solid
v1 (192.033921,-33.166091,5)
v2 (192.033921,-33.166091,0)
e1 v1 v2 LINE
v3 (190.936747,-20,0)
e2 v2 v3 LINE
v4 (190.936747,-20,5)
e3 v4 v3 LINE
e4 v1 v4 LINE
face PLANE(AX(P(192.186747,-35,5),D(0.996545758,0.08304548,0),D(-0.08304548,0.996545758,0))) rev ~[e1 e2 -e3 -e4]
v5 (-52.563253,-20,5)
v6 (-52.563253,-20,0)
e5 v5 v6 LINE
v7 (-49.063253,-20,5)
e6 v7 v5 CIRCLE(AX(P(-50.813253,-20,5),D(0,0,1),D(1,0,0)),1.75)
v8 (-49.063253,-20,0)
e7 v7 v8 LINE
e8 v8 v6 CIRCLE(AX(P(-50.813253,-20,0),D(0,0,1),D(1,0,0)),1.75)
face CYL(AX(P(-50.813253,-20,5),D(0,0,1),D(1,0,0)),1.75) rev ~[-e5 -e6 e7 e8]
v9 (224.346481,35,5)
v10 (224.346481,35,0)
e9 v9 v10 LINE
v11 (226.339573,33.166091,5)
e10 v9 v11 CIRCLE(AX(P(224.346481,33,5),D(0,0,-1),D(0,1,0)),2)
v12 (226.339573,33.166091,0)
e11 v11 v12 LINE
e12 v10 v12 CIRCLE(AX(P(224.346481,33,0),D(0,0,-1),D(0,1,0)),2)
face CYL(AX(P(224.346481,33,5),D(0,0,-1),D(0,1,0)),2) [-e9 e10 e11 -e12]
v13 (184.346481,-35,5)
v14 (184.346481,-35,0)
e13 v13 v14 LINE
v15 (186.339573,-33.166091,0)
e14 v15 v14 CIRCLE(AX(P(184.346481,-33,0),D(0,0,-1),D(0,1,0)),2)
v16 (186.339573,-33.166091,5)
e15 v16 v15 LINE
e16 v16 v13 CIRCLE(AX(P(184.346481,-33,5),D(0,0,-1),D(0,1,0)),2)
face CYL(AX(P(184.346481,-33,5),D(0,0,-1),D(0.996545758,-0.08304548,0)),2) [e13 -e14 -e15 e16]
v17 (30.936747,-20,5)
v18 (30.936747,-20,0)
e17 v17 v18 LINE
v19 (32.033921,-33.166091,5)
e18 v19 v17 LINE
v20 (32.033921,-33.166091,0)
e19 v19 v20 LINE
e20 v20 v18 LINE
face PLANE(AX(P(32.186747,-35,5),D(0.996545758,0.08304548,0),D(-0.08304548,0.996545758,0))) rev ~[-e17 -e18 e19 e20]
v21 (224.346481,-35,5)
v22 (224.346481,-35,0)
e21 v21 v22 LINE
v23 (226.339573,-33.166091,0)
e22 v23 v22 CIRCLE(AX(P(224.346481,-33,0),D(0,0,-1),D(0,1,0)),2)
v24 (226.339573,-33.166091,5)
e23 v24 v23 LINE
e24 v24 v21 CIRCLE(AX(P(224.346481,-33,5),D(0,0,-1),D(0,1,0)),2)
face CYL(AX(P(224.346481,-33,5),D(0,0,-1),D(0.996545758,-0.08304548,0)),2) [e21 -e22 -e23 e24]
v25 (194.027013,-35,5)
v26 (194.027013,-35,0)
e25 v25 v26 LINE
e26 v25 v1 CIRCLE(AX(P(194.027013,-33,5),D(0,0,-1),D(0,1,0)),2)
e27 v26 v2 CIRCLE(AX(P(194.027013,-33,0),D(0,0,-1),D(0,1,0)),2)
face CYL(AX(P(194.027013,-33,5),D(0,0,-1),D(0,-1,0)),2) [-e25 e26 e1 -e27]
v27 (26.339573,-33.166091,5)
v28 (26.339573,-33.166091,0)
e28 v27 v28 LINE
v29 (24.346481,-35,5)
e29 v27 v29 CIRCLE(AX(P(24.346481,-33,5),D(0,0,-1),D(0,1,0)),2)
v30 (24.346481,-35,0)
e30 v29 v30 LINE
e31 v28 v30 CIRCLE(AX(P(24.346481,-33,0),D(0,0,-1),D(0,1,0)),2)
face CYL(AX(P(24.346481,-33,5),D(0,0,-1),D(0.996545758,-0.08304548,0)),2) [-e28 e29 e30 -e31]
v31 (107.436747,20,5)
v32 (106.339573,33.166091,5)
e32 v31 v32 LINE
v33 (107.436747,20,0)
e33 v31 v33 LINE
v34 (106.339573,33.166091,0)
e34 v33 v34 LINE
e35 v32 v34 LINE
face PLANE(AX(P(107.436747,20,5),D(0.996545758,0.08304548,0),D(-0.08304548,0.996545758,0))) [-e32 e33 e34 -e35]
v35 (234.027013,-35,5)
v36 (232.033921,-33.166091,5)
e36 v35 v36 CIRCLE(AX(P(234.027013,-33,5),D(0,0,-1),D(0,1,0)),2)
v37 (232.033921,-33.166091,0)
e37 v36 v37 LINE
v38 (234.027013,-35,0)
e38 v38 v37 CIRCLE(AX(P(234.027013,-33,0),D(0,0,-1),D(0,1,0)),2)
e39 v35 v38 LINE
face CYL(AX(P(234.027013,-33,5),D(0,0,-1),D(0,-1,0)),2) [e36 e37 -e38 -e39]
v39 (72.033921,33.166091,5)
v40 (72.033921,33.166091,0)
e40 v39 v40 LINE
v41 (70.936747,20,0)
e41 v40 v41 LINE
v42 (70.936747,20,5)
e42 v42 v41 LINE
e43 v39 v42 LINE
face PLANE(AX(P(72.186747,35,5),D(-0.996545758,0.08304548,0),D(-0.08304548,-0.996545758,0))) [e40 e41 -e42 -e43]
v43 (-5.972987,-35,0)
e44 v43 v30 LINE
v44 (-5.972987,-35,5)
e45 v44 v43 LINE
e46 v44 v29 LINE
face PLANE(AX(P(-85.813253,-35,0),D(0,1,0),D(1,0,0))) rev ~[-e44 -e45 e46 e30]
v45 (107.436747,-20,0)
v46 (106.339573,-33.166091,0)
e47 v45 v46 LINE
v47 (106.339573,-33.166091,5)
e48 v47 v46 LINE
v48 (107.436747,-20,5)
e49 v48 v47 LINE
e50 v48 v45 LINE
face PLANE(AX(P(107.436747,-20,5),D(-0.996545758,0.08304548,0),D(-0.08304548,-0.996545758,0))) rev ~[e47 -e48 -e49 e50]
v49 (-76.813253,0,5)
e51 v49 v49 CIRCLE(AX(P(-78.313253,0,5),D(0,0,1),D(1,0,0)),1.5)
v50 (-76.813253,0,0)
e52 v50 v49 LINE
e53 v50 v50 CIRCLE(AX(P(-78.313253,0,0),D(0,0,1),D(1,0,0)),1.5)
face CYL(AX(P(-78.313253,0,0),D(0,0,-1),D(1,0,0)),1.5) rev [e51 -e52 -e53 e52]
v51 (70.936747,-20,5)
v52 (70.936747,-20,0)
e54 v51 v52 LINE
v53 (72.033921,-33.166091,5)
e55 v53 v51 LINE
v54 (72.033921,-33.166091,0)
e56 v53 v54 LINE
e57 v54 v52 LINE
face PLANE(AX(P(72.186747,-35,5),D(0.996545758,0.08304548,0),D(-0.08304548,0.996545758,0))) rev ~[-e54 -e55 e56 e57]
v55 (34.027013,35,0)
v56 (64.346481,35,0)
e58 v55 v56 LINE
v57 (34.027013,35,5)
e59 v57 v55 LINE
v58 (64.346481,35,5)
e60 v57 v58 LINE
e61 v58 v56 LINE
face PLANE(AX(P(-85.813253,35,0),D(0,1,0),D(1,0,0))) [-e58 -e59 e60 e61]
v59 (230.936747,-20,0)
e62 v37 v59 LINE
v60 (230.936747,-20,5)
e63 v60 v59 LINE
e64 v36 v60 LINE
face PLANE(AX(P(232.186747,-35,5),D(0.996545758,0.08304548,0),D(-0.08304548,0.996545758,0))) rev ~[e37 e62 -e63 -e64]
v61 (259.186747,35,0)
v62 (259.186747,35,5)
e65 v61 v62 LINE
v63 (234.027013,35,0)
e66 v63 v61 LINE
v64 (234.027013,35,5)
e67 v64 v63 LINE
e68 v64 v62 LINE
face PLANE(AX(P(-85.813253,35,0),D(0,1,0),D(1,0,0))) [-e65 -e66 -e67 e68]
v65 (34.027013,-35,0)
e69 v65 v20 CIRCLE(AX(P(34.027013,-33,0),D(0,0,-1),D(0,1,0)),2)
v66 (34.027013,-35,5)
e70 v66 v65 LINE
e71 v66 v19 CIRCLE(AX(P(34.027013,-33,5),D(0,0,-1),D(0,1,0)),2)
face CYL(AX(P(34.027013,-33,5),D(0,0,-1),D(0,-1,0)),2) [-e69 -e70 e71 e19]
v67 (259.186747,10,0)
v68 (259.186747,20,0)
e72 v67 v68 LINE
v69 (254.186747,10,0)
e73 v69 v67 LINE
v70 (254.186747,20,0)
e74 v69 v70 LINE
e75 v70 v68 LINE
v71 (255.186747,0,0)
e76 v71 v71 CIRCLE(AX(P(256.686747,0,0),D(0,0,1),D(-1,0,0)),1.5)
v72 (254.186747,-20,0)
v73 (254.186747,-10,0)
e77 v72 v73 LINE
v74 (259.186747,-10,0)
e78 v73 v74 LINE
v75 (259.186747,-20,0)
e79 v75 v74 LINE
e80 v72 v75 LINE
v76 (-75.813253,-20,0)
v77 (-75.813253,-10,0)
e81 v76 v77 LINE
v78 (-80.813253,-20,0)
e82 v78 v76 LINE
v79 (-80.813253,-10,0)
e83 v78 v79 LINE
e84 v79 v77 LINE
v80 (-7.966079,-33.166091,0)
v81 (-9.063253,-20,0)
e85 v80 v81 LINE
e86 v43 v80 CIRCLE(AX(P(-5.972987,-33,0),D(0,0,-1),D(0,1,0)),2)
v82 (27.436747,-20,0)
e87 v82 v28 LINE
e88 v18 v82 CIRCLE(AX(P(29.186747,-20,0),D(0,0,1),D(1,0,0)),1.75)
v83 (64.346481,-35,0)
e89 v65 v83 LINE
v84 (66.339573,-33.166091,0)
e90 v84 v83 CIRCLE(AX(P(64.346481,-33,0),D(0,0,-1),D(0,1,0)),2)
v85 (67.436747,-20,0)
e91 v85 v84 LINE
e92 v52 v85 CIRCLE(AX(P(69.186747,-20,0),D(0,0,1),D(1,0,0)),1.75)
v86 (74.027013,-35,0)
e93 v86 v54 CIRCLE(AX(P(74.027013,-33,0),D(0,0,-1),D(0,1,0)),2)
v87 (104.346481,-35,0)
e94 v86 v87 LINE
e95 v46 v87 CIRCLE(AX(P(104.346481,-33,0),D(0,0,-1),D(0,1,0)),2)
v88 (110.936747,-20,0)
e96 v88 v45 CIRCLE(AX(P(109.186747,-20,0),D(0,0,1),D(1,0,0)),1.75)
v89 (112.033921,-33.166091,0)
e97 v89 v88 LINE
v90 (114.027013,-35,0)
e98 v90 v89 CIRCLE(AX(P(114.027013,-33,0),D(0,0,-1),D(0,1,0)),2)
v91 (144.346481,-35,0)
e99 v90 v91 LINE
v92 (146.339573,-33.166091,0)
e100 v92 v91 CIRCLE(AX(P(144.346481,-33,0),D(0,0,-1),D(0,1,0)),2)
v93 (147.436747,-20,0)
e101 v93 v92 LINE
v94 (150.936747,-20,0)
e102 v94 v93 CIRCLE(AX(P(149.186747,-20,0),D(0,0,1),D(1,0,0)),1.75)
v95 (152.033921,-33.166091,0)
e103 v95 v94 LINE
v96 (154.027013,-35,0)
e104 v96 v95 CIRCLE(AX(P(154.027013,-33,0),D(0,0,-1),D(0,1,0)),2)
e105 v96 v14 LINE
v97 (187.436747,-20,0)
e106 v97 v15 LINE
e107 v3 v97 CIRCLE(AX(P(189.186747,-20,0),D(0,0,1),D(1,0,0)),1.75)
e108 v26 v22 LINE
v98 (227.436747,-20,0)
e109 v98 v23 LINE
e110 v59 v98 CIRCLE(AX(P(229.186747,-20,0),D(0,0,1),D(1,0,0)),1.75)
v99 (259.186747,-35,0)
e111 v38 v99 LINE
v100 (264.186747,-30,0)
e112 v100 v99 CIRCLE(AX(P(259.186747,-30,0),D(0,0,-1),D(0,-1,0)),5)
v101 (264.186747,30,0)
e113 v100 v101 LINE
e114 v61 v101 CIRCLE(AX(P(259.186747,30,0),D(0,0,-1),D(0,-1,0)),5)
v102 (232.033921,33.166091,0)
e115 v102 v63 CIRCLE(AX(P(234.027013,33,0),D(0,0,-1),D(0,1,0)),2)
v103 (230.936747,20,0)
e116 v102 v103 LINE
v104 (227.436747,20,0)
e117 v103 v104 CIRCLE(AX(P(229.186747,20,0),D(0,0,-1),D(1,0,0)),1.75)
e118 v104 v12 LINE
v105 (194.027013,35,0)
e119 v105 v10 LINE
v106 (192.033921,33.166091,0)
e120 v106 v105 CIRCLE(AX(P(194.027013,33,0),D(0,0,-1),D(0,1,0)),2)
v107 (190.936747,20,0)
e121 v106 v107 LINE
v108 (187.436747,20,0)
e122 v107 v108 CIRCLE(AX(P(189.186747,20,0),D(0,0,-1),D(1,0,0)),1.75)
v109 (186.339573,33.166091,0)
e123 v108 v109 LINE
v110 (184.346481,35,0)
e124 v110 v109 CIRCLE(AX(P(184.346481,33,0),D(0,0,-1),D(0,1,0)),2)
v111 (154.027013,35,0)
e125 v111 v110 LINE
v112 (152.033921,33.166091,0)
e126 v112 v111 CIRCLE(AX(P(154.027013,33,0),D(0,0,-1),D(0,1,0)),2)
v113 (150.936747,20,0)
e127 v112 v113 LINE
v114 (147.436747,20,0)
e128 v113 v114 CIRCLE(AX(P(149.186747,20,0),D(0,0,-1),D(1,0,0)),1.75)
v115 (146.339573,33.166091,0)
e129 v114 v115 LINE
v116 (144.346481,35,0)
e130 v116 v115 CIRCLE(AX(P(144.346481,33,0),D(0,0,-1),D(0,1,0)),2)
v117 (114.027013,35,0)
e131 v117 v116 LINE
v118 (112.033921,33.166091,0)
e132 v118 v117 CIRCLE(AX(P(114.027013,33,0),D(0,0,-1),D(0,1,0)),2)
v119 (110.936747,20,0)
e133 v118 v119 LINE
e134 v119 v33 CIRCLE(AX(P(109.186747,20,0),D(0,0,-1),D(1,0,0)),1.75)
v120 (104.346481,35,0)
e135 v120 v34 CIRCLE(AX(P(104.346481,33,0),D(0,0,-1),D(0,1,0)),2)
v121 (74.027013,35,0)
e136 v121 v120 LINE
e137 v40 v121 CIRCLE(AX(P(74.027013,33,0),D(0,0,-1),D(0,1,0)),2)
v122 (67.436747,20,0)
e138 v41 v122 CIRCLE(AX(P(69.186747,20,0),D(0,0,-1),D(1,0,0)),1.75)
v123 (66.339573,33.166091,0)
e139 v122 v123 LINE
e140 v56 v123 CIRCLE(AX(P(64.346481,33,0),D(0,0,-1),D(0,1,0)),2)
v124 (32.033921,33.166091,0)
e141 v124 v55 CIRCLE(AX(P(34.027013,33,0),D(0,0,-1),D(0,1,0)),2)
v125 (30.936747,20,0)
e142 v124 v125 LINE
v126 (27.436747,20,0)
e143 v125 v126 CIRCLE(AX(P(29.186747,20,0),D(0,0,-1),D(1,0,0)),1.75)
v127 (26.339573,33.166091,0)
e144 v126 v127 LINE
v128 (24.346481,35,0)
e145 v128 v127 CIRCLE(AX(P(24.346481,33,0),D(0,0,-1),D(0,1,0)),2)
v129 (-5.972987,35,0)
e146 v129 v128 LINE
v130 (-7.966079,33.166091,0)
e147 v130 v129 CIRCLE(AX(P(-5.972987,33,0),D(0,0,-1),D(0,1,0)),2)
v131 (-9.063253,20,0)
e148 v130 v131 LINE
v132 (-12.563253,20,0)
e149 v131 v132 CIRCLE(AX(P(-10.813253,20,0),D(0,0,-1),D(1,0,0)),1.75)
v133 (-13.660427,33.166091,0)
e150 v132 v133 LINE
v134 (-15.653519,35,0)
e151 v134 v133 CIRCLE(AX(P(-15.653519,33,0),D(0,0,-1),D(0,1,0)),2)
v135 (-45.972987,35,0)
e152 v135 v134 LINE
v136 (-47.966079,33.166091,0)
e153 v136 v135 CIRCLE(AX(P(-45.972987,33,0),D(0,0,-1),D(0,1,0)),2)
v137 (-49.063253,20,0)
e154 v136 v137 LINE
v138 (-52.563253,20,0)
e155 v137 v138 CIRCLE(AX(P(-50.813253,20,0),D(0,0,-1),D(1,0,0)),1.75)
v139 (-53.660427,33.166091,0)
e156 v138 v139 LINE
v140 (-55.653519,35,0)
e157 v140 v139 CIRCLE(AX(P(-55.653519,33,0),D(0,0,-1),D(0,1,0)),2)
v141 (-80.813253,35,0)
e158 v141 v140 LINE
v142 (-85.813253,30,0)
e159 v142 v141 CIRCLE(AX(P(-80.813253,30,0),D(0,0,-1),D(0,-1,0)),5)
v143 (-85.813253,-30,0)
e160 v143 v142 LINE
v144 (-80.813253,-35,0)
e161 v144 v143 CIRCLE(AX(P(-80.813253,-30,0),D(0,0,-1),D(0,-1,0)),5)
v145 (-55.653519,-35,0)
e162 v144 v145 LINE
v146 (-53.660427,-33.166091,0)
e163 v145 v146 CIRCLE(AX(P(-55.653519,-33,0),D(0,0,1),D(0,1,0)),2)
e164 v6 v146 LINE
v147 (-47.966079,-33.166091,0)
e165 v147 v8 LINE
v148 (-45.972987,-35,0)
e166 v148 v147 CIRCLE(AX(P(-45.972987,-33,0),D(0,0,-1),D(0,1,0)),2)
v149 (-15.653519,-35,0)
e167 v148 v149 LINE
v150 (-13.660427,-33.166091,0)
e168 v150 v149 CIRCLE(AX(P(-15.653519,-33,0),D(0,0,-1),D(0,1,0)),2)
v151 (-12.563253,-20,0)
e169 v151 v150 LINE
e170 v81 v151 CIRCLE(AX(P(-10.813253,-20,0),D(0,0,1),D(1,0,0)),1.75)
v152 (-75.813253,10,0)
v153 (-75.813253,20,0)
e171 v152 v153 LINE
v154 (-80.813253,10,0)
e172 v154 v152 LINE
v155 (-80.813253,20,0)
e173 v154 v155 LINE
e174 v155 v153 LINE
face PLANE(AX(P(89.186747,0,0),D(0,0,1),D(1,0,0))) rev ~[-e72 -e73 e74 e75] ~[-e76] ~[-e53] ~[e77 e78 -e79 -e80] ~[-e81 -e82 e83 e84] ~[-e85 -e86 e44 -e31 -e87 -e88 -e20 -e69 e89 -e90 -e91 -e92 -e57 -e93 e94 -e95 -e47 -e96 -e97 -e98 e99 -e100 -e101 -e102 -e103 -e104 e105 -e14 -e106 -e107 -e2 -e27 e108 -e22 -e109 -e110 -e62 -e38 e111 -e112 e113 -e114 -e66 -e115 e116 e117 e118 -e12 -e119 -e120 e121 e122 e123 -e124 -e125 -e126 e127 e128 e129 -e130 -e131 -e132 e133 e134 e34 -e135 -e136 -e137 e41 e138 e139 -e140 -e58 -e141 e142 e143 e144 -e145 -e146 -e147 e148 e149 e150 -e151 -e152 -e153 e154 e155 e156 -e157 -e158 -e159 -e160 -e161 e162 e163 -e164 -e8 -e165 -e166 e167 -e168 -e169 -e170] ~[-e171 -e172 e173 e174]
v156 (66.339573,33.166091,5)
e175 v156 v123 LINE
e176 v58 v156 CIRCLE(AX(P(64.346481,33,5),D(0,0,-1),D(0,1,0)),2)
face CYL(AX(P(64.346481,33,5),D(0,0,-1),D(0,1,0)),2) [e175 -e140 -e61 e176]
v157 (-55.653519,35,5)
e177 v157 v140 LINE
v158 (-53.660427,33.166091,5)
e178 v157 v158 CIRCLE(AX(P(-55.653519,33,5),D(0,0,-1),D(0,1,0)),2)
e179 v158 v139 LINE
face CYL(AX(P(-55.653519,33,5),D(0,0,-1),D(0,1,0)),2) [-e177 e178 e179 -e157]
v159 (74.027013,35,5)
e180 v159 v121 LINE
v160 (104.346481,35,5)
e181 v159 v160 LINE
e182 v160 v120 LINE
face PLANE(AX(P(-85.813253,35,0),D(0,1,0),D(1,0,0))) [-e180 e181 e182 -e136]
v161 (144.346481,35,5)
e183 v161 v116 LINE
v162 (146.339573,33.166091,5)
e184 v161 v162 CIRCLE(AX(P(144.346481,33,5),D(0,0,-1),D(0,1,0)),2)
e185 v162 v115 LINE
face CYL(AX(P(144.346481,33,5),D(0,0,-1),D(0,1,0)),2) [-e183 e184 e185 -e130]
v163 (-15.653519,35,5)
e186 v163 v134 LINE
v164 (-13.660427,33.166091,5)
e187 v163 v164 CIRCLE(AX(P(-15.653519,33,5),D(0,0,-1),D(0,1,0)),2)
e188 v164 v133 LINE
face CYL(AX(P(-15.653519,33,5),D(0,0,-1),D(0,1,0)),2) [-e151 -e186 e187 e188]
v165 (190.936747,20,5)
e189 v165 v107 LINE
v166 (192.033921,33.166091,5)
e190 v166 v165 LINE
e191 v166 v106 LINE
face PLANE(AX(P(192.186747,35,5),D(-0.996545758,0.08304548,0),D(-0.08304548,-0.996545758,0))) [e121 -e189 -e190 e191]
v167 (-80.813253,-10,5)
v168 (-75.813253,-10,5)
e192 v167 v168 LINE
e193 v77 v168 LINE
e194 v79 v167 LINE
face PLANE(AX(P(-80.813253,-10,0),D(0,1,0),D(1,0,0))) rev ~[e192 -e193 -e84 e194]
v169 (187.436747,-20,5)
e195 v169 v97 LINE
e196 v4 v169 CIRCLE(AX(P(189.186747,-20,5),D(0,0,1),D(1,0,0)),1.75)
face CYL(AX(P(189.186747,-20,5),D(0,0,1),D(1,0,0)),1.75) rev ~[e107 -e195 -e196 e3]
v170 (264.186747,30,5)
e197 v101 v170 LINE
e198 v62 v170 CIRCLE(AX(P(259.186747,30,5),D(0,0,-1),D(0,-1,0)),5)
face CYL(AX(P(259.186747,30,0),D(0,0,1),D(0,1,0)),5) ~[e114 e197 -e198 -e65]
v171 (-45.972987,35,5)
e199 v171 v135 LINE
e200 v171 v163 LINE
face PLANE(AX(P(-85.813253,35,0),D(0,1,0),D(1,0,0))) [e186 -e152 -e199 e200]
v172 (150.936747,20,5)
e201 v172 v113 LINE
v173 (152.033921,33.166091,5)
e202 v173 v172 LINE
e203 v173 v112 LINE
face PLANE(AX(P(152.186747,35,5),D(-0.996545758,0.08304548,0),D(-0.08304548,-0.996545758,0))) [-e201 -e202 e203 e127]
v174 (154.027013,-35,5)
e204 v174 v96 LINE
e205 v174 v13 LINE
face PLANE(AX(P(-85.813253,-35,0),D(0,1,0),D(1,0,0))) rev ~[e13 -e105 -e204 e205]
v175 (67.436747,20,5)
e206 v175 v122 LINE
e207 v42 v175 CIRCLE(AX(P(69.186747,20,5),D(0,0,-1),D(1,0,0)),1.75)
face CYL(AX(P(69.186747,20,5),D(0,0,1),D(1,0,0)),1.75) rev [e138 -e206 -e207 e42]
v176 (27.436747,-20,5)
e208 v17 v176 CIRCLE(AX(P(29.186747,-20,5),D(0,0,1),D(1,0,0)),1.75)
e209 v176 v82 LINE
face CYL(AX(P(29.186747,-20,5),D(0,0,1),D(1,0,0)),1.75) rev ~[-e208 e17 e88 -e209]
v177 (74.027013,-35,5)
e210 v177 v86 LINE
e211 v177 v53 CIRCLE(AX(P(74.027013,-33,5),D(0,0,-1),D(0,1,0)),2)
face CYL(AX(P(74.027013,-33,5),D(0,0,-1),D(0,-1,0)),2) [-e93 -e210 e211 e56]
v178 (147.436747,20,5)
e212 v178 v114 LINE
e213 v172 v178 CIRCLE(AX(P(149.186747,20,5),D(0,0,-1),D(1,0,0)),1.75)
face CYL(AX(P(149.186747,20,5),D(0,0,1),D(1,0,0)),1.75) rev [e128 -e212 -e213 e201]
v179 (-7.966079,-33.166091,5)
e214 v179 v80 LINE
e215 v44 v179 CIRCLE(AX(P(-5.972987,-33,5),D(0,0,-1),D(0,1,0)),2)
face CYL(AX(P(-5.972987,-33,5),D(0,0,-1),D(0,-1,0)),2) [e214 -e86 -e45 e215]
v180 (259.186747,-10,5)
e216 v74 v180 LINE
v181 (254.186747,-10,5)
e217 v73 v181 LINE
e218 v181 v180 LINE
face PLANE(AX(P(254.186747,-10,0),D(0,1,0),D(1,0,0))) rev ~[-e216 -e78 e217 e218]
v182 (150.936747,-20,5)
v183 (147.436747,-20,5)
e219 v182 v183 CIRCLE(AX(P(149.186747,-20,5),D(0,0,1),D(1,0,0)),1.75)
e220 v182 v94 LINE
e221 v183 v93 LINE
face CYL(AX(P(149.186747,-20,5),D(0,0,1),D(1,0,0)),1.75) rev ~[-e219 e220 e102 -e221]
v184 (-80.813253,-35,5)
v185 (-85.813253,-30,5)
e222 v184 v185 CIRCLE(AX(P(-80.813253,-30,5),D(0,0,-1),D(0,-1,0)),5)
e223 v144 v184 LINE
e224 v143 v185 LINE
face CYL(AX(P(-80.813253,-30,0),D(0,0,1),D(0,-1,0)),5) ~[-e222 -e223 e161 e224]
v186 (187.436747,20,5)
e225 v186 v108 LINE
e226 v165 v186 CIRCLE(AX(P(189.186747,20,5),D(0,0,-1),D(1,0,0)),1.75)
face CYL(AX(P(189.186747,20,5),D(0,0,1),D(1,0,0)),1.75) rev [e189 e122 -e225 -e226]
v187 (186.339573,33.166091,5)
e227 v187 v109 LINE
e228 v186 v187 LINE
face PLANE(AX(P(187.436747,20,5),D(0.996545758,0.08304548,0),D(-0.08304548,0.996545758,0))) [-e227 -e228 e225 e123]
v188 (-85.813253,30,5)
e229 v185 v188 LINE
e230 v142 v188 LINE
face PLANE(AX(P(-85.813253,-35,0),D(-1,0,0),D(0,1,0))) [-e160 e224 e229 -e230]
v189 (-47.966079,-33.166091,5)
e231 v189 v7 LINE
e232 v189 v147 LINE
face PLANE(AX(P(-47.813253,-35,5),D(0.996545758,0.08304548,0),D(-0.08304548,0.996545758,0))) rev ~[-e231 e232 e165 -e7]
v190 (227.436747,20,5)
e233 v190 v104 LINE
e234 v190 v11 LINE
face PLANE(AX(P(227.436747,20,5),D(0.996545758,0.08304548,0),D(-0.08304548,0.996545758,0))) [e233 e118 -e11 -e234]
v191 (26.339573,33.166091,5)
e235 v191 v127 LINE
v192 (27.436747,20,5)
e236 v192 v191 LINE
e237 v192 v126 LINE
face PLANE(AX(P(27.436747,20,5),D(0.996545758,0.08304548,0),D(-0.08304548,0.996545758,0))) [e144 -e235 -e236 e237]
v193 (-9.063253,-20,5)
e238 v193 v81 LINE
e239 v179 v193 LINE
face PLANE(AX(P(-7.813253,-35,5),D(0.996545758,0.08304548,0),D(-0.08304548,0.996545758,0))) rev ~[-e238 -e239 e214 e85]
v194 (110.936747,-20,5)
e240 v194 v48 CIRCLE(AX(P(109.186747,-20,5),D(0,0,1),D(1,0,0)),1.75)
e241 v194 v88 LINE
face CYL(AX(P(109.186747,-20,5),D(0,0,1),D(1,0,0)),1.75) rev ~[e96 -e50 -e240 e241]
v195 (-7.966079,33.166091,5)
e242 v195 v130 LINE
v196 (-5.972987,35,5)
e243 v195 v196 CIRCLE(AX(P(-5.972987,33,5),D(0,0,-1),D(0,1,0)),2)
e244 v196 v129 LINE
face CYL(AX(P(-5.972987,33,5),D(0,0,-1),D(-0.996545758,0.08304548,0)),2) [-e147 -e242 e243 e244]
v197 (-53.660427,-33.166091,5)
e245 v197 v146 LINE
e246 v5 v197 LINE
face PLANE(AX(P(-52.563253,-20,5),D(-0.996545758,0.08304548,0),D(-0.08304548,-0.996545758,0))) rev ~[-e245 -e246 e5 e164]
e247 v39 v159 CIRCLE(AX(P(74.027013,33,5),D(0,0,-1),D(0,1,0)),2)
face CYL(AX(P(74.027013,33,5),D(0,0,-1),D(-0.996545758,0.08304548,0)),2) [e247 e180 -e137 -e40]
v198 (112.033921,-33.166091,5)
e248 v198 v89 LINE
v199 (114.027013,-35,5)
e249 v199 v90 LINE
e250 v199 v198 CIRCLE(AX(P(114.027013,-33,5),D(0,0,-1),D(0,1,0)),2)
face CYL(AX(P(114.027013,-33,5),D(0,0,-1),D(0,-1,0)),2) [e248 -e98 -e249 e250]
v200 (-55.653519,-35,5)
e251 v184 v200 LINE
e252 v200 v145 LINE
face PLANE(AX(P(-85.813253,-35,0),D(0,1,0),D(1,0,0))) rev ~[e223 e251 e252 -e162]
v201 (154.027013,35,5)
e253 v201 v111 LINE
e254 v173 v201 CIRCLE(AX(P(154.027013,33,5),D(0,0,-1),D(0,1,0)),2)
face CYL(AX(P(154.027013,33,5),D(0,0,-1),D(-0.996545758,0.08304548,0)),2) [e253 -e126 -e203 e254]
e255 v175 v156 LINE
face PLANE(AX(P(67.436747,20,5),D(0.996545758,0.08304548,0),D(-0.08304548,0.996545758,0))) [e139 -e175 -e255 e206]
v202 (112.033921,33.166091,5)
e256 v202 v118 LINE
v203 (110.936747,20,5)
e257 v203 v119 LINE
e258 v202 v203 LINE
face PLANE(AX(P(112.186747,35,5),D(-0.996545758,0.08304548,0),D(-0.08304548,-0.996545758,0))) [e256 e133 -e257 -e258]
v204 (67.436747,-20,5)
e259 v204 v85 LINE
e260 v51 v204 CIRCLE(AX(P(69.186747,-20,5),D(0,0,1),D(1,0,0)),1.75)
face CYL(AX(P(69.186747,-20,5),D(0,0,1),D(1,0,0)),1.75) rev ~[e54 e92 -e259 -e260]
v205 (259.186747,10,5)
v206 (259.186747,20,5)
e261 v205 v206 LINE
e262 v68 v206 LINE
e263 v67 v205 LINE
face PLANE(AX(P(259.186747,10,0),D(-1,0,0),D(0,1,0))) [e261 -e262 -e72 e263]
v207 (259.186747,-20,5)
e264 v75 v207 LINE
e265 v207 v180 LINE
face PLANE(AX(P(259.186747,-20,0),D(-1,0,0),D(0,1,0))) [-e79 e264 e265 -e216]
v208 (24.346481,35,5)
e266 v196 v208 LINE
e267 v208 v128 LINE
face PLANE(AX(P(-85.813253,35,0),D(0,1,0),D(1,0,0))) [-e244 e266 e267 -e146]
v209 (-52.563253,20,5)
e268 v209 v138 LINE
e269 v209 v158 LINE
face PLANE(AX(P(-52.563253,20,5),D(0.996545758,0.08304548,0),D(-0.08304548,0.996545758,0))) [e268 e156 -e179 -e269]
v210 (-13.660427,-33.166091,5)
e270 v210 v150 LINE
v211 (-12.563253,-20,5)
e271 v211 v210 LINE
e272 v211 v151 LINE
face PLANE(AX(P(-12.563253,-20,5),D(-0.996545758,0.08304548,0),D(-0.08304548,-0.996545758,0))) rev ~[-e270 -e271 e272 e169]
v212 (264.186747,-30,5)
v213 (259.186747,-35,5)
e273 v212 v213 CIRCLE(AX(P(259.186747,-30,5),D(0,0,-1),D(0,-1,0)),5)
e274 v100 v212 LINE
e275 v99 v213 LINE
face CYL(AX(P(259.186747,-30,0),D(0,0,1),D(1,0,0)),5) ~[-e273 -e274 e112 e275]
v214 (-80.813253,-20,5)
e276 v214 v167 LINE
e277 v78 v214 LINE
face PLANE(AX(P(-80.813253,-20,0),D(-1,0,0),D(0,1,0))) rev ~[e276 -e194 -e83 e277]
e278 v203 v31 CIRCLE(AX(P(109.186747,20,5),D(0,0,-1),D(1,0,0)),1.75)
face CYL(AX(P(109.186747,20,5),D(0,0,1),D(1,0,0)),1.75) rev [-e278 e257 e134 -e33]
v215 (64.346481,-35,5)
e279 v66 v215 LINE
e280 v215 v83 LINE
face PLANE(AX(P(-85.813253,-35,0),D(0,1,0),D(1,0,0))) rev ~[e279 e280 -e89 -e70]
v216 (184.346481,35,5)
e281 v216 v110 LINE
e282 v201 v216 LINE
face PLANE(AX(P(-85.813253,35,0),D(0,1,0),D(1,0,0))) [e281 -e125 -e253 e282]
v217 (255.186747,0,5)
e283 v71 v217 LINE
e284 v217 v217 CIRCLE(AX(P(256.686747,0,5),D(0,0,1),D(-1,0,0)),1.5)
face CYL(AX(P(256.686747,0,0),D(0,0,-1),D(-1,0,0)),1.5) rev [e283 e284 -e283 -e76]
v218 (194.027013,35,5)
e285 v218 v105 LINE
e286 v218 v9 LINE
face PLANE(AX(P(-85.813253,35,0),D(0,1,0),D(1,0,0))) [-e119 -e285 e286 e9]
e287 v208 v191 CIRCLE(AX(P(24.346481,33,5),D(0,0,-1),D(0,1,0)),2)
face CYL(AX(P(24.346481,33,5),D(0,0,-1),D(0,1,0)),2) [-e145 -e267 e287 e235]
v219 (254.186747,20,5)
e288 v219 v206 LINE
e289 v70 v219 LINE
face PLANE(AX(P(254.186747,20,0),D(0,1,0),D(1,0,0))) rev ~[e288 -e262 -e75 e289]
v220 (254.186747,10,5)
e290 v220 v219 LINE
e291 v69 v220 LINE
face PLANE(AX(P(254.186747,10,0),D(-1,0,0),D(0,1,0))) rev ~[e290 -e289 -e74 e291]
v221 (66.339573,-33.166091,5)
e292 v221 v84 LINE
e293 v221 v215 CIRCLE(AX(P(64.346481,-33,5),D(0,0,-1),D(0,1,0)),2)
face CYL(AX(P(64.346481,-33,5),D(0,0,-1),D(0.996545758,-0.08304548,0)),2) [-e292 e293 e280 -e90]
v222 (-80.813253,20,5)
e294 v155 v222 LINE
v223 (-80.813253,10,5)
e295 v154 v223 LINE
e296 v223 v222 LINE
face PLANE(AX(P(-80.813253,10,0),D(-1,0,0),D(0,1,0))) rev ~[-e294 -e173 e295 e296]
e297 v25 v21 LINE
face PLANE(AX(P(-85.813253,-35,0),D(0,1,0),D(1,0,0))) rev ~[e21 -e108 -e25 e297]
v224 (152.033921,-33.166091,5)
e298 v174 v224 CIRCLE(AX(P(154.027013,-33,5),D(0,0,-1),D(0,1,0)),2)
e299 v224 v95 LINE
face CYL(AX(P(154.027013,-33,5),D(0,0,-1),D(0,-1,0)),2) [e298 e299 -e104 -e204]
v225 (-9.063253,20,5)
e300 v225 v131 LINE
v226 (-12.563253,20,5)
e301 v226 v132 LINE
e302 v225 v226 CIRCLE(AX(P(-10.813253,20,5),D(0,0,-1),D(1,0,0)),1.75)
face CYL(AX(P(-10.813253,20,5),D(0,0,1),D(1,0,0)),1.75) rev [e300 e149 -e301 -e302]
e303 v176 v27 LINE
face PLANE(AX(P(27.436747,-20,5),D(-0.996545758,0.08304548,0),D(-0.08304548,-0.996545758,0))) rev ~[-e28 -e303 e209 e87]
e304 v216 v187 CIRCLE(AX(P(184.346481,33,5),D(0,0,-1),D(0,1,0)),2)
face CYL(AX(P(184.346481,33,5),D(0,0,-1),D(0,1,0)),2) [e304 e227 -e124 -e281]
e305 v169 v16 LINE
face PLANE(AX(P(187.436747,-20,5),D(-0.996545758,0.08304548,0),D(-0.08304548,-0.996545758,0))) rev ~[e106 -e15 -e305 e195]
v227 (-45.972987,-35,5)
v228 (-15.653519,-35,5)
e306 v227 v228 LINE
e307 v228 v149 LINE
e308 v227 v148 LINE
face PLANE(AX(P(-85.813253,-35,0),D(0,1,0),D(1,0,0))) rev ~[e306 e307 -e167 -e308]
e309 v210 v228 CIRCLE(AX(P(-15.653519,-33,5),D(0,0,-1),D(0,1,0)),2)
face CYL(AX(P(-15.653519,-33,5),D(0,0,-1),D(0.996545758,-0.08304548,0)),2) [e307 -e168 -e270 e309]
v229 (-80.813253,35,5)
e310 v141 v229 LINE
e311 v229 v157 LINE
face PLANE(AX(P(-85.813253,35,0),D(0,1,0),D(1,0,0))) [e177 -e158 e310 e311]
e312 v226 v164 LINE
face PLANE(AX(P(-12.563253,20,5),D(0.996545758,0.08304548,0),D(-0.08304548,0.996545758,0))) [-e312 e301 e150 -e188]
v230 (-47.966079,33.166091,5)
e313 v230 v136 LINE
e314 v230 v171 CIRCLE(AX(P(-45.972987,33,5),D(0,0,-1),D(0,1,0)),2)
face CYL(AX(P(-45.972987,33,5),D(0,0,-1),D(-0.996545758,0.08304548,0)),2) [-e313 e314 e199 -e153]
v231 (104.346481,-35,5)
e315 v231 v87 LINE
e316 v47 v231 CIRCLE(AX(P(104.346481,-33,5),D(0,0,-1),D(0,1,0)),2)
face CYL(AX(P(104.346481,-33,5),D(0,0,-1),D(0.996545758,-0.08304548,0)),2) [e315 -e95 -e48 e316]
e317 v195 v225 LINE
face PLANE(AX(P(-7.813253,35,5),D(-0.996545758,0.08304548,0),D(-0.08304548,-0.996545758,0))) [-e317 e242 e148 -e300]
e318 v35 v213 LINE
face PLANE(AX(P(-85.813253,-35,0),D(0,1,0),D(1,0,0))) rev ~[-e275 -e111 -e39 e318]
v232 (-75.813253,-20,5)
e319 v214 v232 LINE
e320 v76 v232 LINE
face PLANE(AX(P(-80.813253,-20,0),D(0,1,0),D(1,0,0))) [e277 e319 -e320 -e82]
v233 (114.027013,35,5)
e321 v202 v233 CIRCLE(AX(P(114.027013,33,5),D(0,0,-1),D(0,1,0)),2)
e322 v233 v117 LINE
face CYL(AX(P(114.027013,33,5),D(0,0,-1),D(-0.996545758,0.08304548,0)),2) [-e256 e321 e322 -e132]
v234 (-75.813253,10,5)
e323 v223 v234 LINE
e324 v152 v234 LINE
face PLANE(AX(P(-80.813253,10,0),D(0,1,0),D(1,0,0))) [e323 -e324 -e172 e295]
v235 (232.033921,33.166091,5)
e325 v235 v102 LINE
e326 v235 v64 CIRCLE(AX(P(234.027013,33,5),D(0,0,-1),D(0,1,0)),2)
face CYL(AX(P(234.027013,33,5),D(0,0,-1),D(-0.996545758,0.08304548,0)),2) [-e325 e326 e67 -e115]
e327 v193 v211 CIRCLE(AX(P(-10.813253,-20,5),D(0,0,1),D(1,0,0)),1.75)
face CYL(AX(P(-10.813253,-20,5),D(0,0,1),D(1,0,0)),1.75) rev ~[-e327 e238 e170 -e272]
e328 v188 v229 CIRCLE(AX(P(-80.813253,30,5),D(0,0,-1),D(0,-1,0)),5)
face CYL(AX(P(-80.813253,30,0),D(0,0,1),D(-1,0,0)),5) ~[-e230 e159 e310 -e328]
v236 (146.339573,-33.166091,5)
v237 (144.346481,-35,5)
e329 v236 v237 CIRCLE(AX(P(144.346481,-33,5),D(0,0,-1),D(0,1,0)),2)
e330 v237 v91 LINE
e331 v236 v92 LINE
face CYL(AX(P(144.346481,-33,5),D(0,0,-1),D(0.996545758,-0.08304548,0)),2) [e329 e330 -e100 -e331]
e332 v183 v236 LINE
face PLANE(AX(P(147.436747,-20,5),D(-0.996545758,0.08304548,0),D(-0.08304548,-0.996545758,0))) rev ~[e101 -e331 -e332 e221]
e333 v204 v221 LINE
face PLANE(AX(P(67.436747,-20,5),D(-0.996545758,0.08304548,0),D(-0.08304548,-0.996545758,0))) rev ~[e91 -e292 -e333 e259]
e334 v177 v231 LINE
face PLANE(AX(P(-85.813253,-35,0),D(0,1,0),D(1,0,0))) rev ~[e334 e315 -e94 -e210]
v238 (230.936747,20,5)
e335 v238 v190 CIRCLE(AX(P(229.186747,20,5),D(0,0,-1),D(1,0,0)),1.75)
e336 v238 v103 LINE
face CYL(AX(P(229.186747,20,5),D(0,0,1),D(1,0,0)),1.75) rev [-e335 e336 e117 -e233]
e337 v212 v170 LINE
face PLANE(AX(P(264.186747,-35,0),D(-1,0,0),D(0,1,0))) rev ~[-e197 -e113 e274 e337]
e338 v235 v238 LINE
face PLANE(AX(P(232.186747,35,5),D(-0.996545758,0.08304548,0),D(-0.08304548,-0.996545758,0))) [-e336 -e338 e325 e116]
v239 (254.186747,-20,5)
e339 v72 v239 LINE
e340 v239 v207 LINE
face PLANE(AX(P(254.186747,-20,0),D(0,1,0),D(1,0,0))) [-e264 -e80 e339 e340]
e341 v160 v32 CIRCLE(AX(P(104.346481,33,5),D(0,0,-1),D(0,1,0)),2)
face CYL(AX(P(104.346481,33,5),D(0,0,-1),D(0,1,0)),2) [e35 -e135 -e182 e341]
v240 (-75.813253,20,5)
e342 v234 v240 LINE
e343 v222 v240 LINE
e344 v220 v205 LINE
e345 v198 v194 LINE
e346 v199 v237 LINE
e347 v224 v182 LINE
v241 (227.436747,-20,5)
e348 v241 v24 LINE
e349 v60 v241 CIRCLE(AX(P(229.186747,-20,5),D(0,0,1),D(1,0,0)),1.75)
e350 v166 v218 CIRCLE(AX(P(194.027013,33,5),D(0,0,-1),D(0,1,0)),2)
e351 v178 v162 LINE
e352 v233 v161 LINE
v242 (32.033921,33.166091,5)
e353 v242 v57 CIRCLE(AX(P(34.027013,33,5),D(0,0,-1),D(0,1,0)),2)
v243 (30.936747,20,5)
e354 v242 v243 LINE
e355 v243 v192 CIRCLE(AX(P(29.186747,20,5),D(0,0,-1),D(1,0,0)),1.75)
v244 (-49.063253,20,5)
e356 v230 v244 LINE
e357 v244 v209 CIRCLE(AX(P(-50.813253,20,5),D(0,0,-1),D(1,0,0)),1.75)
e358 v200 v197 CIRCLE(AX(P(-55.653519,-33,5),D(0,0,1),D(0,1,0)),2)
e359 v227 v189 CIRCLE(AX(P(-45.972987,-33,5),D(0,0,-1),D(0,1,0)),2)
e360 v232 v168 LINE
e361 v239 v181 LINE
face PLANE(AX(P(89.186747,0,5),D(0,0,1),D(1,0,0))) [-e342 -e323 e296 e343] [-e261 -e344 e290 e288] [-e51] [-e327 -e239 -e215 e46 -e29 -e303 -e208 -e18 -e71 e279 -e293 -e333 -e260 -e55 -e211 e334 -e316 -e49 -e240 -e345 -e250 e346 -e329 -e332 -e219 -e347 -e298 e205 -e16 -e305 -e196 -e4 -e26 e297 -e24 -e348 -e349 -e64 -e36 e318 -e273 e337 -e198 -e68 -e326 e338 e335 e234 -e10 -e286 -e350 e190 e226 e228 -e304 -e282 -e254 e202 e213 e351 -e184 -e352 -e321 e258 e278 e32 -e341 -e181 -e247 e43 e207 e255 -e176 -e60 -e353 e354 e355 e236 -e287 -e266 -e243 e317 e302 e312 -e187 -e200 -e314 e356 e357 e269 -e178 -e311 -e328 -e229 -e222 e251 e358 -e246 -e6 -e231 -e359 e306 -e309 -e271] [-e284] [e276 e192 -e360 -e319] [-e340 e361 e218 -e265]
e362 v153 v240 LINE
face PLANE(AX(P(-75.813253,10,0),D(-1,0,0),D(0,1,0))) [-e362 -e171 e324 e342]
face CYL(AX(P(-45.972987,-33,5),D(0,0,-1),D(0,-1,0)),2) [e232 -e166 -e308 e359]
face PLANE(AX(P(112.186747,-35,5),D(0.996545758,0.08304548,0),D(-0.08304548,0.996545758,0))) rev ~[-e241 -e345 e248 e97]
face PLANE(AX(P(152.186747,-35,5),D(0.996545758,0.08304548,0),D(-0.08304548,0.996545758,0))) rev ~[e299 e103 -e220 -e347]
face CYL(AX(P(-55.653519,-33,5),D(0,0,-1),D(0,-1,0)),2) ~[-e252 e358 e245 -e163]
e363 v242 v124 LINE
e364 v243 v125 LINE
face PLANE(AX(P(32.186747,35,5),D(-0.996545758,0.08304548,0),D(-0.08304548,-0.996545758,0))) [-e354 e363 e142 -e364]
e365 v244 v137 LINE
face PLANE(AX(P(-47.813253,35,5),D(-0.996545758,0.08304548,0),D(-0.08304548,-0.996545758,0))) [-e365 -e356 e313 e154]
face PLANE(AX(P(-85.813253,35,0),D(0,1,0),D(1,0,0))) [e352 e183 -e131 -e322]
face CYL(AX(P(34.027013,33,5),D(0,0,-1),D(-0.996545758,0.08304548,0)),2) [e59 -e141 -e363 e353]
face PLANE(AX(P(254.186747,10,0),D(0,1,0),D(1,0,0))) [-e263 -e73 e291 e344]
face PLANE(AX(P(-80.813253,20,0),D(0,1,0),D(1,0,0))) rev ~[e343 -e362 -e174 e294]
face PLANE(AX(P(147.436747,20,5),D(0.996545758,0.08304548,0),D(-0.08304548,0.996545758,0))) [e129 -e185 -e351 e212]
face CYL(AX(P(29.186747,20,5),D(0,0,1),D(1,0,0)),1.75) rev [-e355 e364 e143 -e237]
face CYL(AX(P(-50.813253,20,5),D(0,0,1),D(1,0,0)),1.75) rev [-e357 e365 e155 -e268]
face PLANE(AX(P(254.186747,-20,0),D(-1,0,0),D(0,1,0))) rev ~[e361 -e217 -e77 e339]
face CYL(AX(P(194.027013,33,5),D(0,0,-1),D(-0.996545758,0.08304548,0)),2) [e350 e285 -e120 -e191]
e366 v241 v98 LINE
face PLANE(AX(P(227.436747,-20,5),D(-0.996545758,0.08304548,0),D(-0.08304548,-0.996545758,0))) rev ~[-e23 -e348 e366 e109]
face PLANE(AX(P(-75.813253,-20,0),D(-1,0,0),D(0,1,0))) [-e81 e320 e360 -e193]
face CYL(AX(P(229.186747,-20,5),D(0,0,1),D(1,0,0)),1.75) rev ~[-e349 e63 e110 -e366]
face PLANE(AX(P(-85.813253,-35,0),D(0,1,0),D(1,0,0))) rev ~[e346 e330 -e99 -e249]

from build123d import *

# Parameters (mm, degrees)
SKETCH1_W           = 350
SKETCH1_H           = 70
SKETCH1_R           = 1.5
SKETCH1_W_2         = 5
SKETCH1_H_2         = 10
BOSS_EXTRUDE1_DEPTH = 5
CUT_EXTRUDE1_DEPTH  = 5
FILLET1_R           = 2
CONG_1_R            = 5


with BuildPart() as part:
    # Sketch1 → Boss-Extrude1 (new body)
    with BuildSketch(Plane.XY):
        with Locations((89.186746988, 0)):
            Rectangle(SKETCH1_W, SKETCH1_H)
        with Locations((-78.313253012, 0)):
            Circle(SKETCH1_R, mode=Mode.SUBTRACT)
        with Locations(Location((256.686746988, 0, 0), (0, 0, 180))):
            Circle(SKETCH1_R, mode=Mode.SUBTRACT)
        with Locations((-78.313253012, -15)):
            Rectangle(SKETCH1_W_2, SKETCH1_H_2, mode=Mode.SUBTRACT)
        with Locations((-78.313253012, 15)):
            Rectangle(SKETCH1_W_2, SKETCH1_H_2, mode=Mode.SUBTRACT)
        with Locations((256.686746988, -15)):
            Rectangle(SKETCH1_W_2, SKETCH1_H_2, mode=Mode.SUBTRACT)
        with Locations((256.686746988, 15)):
            Rectangle(SKETCH1_W_2, SKETCH1_H_2, mode=Mode.SUBTRACT)
    extrude(amount=BOSS_EXTRUDE1_DEPTH)

    # Sketch2 → Cut-Extrude1 (cut)
    with BuildSketch(Plane.XY.offset(5)):
        with BuildLine():
            Line((-53.813253012, 35), (-47.813253012, 35))
            Line((-47.813253012, 35), (-49.063253012, 20))
            ThreePointArc((-49.063253012, 20), (-50.813253012, 18.25), (-52.563253012, 20))
            Line((-52.563253012, 20), (-53.813253012, 35))
        make_face()
        with BuildLine():
            Line((-13.813253012, 35), (-7.813253012, 35))
            Line((-7.813253012, 35), (-9.063253012, 20))
            ThreePointArc((-9.063253012, 20), (-10.813253012, 18.25), (-12.563253012, 20))
            Line((-12.563253012, 20), (-13.813253012, 35))
        make_face()
        with BuildLine():
            Line((26.186746988, 35), (32.186746988, 35))
            Line((32.186746988, 35), (30.936746988, 20))
            ThreePointArc((30.936746988, 20), (29.186746988, 18.25), (27.436746988, 20))
            Line((27.436746988, 20), (26.186746988, 35))
        make_face()
        with BuildLine():
            Line((66.186746988, 35), (72.186746988, 35))
            Line((72.186746988, 35), (70.936746988, 20))
            ThreePointArc((70.936746988, 20), (69.186746988, 18.25), (67.436746988, 20))
            Line((67.436746988, 20), (66.186746988, 35))
        make_face()
        with BuildLine():
            Line((106.186746988, 35), (112.186746988, 35))
            Line((112.186746988, 35), (110.936746988, 20))
            ThreePointArc((110.936746988, 20), (109.186746988, 18.25), (107.436746988, 20))
            Line((107.436746988, 20), (106.186746988, 35))
        make_face()
        with BuildLine():
            Line((146.186746988, 35), (152.186746988, 35))
            Line((152.186746988, 35), (150.936746988, 20))
            ThreePointArc((150.936746988, 20), (149.186746988, 18.25), (147.436746988, 20))
            Line((147.436746988, 20), (146.186746988, 35))
        make_face()
        with BuildLine():
            Line((186.186746988, 35), (192.186746988, 35))
            Line((192.186746988, 35), (190.936746988, 20))
            ThreePointArc((190.936746988, 20), (189.186746988, 18.25), (187.436746988, 20))
            Line((187.436746988, 20), (186.186746988, 35))
        make_face()
        with BuildLine():
            Line((226.186746988, 35), (232.186746988, 35))
            Line((232.186746988, 35), (230.936746988, 20))
            ThreePointArc((230.936746988, 20), (229.186746988, 18.25), (227.436746988, 20))
            Line((227.436746988, 20), (226.186746988, 35))
        make_face()
        with BuildLine():
            Line((232.186746988, -35), (230.936746988, -20))
            ThreePointArc((230.936746988, -20), (229.186746988, -18.25), (227.436746988, -20))
            Line((227.436746988, -20), (226.186746988, -35))
            Line((226.186746988, -35), (232.186746988, -35))
        make_face()
        with BuildLine():
            Line((192.186746988, -35), (190.936746988, -20))
            ThreePointArc((190.936746988, -20), (189.186746988, -18.25), (187.436746988, -20))
            Line((187.436746988, -20), (186.186746988, -35))
            Line((186.186746988, -35), (192.186746988, -35))
        make_face()
        with BuildLine():
            Line((152.186746988, -35), (150.936746988, -20))
            ThreePointArc((150.936746988, -20), (149.186746988, -18.25), (147.436746988, -20))
            Line((147.436746988, -20), (146.186746988, -35))
            Line((146.186746988, -35), (152.186746988, -35))
        make_face()
        with BuildLine():
            Line((112.186746988, -35), (110.936746988, -20))
            ThreePointArc((110.936746988, -20), (109.186746988, -18.25), (107.436746988, -20))
            Line((107.436746988, -20), (106.186746988, -35))
            Line((106.186746988, -35), (112.186746988, -35))
        make_face()
        with BuildLine():
            Line((72.186746988, -35), (70.936746988, -20))
            ThreePointArc((70.936746988, -20), (69.186746988, -18.25), (67.436746988, -20))
            Line((67.436746988, -20), (66.186746988, -35))
            Line((66.186746988, -35), (72.186746988, -35))
        make_face()
        with BuildLine():
            Line((32.186746988, -35), (30.936746988, -20))
            ThreePointArc((30.936746988, -20), (29.186746988, -18.25), (27.436746988, -20))
            Line((27.436746988, -20), (26.186746988, -35))
            Line((26.186746988, -35), (32.186746988, -35))
        make_face()
        with BuildLine():
            Line((-7.813253012, -35), (-9.063253012, -20))
            ThreePointArc((-9.063253012, -20), (-10.813253012, -18.25), (-12.563253012, -20))
            Line((-12.563253012, -20), (-13.813253012, -35))
            Line((-13.813253012, -35), (-7.813253012, -35))
        make_face()
        with BuildLine():
            Line((-47.813253012, -35), (-49.063253012, -20))
            ThreePointArc((-49.063253012, -20), (-50.813253012, -18.25), (-52.563253012, -20))
            Line((-52.563253012, -20), (-53.813253012, -35))
            Line((-53.813253012, -35), (-47.813253012, -35))
        make_face()
    extrude(amount=-CUT_EXTRUDE1_DEPTH, mode=Mode.SUBTRACT)

    # Fillet1
    fillet1_edges = [part.edges().sort_by_distance(p)[0] for p in [
        (-13.813253012, 35, 2.5),
        (-7.813253012, 35, 2.5),
        (26.186746988, 35, 2.5),
        (32.186746988, 35, 2.5),
        (66.186746988, 35, 2.5),
        (72.186746988, 35, 2.5),
        (106.186746988, 35, 2.5),
        (112.186746988, 35, 2.5),
        (146.186746988, 35, 2.5),
        (152.186746988, 35, 2.5),
        (186.186746988, 35, 2.5),
        (192.186746988, 35, 2.5),
        (226.186746988, 35, 2.5),
        (232.186746988, 35, 2.5),
        (232.186746988, -35, 2.5),
        (226.186746988, -35, 2.5),
        (192.186746988, -35, 2.5),
        (186.186746988, -35, 2.5),
        (152.186746988, -35, 2.5),
        (146.186746988, -35, 2.5),
        (112.186746988, -35, 2.5),
        (106.186746988, -35, 2.5),
        (72.186746988, -35, 2.5),
        (66.186746988, -35, 2.5),
        (32.186746988, -35, 2.5),
        (26.186746988, -35, 2.5),
        (-7.813253012, -35, 2.5),
        (-13.813253012, -35, 2.5),
        (-47.813253012, -35, 2.5),
        (-53.813253012, -35, 2.5),
        (-53.813253012, 35, 2.5),
        (-47.813253012, 35, 2.5),
    ]]
    fillet(fillet1_edges, radius=FILLET1_R)

    # Congé1
    cong_1_edges = [part.edges().sort_by_distance(p)[0] for p in [
        (-85.813253012, 35, 2.5),
        (264.186746988, 35, 2.5),
        (264.186746988, -35, 2.5),
        (-85.813253012, -35, 2.5),
    ]]
    fillet(cong_1_edges, radius=CONG_1_R)


solid = part.part
